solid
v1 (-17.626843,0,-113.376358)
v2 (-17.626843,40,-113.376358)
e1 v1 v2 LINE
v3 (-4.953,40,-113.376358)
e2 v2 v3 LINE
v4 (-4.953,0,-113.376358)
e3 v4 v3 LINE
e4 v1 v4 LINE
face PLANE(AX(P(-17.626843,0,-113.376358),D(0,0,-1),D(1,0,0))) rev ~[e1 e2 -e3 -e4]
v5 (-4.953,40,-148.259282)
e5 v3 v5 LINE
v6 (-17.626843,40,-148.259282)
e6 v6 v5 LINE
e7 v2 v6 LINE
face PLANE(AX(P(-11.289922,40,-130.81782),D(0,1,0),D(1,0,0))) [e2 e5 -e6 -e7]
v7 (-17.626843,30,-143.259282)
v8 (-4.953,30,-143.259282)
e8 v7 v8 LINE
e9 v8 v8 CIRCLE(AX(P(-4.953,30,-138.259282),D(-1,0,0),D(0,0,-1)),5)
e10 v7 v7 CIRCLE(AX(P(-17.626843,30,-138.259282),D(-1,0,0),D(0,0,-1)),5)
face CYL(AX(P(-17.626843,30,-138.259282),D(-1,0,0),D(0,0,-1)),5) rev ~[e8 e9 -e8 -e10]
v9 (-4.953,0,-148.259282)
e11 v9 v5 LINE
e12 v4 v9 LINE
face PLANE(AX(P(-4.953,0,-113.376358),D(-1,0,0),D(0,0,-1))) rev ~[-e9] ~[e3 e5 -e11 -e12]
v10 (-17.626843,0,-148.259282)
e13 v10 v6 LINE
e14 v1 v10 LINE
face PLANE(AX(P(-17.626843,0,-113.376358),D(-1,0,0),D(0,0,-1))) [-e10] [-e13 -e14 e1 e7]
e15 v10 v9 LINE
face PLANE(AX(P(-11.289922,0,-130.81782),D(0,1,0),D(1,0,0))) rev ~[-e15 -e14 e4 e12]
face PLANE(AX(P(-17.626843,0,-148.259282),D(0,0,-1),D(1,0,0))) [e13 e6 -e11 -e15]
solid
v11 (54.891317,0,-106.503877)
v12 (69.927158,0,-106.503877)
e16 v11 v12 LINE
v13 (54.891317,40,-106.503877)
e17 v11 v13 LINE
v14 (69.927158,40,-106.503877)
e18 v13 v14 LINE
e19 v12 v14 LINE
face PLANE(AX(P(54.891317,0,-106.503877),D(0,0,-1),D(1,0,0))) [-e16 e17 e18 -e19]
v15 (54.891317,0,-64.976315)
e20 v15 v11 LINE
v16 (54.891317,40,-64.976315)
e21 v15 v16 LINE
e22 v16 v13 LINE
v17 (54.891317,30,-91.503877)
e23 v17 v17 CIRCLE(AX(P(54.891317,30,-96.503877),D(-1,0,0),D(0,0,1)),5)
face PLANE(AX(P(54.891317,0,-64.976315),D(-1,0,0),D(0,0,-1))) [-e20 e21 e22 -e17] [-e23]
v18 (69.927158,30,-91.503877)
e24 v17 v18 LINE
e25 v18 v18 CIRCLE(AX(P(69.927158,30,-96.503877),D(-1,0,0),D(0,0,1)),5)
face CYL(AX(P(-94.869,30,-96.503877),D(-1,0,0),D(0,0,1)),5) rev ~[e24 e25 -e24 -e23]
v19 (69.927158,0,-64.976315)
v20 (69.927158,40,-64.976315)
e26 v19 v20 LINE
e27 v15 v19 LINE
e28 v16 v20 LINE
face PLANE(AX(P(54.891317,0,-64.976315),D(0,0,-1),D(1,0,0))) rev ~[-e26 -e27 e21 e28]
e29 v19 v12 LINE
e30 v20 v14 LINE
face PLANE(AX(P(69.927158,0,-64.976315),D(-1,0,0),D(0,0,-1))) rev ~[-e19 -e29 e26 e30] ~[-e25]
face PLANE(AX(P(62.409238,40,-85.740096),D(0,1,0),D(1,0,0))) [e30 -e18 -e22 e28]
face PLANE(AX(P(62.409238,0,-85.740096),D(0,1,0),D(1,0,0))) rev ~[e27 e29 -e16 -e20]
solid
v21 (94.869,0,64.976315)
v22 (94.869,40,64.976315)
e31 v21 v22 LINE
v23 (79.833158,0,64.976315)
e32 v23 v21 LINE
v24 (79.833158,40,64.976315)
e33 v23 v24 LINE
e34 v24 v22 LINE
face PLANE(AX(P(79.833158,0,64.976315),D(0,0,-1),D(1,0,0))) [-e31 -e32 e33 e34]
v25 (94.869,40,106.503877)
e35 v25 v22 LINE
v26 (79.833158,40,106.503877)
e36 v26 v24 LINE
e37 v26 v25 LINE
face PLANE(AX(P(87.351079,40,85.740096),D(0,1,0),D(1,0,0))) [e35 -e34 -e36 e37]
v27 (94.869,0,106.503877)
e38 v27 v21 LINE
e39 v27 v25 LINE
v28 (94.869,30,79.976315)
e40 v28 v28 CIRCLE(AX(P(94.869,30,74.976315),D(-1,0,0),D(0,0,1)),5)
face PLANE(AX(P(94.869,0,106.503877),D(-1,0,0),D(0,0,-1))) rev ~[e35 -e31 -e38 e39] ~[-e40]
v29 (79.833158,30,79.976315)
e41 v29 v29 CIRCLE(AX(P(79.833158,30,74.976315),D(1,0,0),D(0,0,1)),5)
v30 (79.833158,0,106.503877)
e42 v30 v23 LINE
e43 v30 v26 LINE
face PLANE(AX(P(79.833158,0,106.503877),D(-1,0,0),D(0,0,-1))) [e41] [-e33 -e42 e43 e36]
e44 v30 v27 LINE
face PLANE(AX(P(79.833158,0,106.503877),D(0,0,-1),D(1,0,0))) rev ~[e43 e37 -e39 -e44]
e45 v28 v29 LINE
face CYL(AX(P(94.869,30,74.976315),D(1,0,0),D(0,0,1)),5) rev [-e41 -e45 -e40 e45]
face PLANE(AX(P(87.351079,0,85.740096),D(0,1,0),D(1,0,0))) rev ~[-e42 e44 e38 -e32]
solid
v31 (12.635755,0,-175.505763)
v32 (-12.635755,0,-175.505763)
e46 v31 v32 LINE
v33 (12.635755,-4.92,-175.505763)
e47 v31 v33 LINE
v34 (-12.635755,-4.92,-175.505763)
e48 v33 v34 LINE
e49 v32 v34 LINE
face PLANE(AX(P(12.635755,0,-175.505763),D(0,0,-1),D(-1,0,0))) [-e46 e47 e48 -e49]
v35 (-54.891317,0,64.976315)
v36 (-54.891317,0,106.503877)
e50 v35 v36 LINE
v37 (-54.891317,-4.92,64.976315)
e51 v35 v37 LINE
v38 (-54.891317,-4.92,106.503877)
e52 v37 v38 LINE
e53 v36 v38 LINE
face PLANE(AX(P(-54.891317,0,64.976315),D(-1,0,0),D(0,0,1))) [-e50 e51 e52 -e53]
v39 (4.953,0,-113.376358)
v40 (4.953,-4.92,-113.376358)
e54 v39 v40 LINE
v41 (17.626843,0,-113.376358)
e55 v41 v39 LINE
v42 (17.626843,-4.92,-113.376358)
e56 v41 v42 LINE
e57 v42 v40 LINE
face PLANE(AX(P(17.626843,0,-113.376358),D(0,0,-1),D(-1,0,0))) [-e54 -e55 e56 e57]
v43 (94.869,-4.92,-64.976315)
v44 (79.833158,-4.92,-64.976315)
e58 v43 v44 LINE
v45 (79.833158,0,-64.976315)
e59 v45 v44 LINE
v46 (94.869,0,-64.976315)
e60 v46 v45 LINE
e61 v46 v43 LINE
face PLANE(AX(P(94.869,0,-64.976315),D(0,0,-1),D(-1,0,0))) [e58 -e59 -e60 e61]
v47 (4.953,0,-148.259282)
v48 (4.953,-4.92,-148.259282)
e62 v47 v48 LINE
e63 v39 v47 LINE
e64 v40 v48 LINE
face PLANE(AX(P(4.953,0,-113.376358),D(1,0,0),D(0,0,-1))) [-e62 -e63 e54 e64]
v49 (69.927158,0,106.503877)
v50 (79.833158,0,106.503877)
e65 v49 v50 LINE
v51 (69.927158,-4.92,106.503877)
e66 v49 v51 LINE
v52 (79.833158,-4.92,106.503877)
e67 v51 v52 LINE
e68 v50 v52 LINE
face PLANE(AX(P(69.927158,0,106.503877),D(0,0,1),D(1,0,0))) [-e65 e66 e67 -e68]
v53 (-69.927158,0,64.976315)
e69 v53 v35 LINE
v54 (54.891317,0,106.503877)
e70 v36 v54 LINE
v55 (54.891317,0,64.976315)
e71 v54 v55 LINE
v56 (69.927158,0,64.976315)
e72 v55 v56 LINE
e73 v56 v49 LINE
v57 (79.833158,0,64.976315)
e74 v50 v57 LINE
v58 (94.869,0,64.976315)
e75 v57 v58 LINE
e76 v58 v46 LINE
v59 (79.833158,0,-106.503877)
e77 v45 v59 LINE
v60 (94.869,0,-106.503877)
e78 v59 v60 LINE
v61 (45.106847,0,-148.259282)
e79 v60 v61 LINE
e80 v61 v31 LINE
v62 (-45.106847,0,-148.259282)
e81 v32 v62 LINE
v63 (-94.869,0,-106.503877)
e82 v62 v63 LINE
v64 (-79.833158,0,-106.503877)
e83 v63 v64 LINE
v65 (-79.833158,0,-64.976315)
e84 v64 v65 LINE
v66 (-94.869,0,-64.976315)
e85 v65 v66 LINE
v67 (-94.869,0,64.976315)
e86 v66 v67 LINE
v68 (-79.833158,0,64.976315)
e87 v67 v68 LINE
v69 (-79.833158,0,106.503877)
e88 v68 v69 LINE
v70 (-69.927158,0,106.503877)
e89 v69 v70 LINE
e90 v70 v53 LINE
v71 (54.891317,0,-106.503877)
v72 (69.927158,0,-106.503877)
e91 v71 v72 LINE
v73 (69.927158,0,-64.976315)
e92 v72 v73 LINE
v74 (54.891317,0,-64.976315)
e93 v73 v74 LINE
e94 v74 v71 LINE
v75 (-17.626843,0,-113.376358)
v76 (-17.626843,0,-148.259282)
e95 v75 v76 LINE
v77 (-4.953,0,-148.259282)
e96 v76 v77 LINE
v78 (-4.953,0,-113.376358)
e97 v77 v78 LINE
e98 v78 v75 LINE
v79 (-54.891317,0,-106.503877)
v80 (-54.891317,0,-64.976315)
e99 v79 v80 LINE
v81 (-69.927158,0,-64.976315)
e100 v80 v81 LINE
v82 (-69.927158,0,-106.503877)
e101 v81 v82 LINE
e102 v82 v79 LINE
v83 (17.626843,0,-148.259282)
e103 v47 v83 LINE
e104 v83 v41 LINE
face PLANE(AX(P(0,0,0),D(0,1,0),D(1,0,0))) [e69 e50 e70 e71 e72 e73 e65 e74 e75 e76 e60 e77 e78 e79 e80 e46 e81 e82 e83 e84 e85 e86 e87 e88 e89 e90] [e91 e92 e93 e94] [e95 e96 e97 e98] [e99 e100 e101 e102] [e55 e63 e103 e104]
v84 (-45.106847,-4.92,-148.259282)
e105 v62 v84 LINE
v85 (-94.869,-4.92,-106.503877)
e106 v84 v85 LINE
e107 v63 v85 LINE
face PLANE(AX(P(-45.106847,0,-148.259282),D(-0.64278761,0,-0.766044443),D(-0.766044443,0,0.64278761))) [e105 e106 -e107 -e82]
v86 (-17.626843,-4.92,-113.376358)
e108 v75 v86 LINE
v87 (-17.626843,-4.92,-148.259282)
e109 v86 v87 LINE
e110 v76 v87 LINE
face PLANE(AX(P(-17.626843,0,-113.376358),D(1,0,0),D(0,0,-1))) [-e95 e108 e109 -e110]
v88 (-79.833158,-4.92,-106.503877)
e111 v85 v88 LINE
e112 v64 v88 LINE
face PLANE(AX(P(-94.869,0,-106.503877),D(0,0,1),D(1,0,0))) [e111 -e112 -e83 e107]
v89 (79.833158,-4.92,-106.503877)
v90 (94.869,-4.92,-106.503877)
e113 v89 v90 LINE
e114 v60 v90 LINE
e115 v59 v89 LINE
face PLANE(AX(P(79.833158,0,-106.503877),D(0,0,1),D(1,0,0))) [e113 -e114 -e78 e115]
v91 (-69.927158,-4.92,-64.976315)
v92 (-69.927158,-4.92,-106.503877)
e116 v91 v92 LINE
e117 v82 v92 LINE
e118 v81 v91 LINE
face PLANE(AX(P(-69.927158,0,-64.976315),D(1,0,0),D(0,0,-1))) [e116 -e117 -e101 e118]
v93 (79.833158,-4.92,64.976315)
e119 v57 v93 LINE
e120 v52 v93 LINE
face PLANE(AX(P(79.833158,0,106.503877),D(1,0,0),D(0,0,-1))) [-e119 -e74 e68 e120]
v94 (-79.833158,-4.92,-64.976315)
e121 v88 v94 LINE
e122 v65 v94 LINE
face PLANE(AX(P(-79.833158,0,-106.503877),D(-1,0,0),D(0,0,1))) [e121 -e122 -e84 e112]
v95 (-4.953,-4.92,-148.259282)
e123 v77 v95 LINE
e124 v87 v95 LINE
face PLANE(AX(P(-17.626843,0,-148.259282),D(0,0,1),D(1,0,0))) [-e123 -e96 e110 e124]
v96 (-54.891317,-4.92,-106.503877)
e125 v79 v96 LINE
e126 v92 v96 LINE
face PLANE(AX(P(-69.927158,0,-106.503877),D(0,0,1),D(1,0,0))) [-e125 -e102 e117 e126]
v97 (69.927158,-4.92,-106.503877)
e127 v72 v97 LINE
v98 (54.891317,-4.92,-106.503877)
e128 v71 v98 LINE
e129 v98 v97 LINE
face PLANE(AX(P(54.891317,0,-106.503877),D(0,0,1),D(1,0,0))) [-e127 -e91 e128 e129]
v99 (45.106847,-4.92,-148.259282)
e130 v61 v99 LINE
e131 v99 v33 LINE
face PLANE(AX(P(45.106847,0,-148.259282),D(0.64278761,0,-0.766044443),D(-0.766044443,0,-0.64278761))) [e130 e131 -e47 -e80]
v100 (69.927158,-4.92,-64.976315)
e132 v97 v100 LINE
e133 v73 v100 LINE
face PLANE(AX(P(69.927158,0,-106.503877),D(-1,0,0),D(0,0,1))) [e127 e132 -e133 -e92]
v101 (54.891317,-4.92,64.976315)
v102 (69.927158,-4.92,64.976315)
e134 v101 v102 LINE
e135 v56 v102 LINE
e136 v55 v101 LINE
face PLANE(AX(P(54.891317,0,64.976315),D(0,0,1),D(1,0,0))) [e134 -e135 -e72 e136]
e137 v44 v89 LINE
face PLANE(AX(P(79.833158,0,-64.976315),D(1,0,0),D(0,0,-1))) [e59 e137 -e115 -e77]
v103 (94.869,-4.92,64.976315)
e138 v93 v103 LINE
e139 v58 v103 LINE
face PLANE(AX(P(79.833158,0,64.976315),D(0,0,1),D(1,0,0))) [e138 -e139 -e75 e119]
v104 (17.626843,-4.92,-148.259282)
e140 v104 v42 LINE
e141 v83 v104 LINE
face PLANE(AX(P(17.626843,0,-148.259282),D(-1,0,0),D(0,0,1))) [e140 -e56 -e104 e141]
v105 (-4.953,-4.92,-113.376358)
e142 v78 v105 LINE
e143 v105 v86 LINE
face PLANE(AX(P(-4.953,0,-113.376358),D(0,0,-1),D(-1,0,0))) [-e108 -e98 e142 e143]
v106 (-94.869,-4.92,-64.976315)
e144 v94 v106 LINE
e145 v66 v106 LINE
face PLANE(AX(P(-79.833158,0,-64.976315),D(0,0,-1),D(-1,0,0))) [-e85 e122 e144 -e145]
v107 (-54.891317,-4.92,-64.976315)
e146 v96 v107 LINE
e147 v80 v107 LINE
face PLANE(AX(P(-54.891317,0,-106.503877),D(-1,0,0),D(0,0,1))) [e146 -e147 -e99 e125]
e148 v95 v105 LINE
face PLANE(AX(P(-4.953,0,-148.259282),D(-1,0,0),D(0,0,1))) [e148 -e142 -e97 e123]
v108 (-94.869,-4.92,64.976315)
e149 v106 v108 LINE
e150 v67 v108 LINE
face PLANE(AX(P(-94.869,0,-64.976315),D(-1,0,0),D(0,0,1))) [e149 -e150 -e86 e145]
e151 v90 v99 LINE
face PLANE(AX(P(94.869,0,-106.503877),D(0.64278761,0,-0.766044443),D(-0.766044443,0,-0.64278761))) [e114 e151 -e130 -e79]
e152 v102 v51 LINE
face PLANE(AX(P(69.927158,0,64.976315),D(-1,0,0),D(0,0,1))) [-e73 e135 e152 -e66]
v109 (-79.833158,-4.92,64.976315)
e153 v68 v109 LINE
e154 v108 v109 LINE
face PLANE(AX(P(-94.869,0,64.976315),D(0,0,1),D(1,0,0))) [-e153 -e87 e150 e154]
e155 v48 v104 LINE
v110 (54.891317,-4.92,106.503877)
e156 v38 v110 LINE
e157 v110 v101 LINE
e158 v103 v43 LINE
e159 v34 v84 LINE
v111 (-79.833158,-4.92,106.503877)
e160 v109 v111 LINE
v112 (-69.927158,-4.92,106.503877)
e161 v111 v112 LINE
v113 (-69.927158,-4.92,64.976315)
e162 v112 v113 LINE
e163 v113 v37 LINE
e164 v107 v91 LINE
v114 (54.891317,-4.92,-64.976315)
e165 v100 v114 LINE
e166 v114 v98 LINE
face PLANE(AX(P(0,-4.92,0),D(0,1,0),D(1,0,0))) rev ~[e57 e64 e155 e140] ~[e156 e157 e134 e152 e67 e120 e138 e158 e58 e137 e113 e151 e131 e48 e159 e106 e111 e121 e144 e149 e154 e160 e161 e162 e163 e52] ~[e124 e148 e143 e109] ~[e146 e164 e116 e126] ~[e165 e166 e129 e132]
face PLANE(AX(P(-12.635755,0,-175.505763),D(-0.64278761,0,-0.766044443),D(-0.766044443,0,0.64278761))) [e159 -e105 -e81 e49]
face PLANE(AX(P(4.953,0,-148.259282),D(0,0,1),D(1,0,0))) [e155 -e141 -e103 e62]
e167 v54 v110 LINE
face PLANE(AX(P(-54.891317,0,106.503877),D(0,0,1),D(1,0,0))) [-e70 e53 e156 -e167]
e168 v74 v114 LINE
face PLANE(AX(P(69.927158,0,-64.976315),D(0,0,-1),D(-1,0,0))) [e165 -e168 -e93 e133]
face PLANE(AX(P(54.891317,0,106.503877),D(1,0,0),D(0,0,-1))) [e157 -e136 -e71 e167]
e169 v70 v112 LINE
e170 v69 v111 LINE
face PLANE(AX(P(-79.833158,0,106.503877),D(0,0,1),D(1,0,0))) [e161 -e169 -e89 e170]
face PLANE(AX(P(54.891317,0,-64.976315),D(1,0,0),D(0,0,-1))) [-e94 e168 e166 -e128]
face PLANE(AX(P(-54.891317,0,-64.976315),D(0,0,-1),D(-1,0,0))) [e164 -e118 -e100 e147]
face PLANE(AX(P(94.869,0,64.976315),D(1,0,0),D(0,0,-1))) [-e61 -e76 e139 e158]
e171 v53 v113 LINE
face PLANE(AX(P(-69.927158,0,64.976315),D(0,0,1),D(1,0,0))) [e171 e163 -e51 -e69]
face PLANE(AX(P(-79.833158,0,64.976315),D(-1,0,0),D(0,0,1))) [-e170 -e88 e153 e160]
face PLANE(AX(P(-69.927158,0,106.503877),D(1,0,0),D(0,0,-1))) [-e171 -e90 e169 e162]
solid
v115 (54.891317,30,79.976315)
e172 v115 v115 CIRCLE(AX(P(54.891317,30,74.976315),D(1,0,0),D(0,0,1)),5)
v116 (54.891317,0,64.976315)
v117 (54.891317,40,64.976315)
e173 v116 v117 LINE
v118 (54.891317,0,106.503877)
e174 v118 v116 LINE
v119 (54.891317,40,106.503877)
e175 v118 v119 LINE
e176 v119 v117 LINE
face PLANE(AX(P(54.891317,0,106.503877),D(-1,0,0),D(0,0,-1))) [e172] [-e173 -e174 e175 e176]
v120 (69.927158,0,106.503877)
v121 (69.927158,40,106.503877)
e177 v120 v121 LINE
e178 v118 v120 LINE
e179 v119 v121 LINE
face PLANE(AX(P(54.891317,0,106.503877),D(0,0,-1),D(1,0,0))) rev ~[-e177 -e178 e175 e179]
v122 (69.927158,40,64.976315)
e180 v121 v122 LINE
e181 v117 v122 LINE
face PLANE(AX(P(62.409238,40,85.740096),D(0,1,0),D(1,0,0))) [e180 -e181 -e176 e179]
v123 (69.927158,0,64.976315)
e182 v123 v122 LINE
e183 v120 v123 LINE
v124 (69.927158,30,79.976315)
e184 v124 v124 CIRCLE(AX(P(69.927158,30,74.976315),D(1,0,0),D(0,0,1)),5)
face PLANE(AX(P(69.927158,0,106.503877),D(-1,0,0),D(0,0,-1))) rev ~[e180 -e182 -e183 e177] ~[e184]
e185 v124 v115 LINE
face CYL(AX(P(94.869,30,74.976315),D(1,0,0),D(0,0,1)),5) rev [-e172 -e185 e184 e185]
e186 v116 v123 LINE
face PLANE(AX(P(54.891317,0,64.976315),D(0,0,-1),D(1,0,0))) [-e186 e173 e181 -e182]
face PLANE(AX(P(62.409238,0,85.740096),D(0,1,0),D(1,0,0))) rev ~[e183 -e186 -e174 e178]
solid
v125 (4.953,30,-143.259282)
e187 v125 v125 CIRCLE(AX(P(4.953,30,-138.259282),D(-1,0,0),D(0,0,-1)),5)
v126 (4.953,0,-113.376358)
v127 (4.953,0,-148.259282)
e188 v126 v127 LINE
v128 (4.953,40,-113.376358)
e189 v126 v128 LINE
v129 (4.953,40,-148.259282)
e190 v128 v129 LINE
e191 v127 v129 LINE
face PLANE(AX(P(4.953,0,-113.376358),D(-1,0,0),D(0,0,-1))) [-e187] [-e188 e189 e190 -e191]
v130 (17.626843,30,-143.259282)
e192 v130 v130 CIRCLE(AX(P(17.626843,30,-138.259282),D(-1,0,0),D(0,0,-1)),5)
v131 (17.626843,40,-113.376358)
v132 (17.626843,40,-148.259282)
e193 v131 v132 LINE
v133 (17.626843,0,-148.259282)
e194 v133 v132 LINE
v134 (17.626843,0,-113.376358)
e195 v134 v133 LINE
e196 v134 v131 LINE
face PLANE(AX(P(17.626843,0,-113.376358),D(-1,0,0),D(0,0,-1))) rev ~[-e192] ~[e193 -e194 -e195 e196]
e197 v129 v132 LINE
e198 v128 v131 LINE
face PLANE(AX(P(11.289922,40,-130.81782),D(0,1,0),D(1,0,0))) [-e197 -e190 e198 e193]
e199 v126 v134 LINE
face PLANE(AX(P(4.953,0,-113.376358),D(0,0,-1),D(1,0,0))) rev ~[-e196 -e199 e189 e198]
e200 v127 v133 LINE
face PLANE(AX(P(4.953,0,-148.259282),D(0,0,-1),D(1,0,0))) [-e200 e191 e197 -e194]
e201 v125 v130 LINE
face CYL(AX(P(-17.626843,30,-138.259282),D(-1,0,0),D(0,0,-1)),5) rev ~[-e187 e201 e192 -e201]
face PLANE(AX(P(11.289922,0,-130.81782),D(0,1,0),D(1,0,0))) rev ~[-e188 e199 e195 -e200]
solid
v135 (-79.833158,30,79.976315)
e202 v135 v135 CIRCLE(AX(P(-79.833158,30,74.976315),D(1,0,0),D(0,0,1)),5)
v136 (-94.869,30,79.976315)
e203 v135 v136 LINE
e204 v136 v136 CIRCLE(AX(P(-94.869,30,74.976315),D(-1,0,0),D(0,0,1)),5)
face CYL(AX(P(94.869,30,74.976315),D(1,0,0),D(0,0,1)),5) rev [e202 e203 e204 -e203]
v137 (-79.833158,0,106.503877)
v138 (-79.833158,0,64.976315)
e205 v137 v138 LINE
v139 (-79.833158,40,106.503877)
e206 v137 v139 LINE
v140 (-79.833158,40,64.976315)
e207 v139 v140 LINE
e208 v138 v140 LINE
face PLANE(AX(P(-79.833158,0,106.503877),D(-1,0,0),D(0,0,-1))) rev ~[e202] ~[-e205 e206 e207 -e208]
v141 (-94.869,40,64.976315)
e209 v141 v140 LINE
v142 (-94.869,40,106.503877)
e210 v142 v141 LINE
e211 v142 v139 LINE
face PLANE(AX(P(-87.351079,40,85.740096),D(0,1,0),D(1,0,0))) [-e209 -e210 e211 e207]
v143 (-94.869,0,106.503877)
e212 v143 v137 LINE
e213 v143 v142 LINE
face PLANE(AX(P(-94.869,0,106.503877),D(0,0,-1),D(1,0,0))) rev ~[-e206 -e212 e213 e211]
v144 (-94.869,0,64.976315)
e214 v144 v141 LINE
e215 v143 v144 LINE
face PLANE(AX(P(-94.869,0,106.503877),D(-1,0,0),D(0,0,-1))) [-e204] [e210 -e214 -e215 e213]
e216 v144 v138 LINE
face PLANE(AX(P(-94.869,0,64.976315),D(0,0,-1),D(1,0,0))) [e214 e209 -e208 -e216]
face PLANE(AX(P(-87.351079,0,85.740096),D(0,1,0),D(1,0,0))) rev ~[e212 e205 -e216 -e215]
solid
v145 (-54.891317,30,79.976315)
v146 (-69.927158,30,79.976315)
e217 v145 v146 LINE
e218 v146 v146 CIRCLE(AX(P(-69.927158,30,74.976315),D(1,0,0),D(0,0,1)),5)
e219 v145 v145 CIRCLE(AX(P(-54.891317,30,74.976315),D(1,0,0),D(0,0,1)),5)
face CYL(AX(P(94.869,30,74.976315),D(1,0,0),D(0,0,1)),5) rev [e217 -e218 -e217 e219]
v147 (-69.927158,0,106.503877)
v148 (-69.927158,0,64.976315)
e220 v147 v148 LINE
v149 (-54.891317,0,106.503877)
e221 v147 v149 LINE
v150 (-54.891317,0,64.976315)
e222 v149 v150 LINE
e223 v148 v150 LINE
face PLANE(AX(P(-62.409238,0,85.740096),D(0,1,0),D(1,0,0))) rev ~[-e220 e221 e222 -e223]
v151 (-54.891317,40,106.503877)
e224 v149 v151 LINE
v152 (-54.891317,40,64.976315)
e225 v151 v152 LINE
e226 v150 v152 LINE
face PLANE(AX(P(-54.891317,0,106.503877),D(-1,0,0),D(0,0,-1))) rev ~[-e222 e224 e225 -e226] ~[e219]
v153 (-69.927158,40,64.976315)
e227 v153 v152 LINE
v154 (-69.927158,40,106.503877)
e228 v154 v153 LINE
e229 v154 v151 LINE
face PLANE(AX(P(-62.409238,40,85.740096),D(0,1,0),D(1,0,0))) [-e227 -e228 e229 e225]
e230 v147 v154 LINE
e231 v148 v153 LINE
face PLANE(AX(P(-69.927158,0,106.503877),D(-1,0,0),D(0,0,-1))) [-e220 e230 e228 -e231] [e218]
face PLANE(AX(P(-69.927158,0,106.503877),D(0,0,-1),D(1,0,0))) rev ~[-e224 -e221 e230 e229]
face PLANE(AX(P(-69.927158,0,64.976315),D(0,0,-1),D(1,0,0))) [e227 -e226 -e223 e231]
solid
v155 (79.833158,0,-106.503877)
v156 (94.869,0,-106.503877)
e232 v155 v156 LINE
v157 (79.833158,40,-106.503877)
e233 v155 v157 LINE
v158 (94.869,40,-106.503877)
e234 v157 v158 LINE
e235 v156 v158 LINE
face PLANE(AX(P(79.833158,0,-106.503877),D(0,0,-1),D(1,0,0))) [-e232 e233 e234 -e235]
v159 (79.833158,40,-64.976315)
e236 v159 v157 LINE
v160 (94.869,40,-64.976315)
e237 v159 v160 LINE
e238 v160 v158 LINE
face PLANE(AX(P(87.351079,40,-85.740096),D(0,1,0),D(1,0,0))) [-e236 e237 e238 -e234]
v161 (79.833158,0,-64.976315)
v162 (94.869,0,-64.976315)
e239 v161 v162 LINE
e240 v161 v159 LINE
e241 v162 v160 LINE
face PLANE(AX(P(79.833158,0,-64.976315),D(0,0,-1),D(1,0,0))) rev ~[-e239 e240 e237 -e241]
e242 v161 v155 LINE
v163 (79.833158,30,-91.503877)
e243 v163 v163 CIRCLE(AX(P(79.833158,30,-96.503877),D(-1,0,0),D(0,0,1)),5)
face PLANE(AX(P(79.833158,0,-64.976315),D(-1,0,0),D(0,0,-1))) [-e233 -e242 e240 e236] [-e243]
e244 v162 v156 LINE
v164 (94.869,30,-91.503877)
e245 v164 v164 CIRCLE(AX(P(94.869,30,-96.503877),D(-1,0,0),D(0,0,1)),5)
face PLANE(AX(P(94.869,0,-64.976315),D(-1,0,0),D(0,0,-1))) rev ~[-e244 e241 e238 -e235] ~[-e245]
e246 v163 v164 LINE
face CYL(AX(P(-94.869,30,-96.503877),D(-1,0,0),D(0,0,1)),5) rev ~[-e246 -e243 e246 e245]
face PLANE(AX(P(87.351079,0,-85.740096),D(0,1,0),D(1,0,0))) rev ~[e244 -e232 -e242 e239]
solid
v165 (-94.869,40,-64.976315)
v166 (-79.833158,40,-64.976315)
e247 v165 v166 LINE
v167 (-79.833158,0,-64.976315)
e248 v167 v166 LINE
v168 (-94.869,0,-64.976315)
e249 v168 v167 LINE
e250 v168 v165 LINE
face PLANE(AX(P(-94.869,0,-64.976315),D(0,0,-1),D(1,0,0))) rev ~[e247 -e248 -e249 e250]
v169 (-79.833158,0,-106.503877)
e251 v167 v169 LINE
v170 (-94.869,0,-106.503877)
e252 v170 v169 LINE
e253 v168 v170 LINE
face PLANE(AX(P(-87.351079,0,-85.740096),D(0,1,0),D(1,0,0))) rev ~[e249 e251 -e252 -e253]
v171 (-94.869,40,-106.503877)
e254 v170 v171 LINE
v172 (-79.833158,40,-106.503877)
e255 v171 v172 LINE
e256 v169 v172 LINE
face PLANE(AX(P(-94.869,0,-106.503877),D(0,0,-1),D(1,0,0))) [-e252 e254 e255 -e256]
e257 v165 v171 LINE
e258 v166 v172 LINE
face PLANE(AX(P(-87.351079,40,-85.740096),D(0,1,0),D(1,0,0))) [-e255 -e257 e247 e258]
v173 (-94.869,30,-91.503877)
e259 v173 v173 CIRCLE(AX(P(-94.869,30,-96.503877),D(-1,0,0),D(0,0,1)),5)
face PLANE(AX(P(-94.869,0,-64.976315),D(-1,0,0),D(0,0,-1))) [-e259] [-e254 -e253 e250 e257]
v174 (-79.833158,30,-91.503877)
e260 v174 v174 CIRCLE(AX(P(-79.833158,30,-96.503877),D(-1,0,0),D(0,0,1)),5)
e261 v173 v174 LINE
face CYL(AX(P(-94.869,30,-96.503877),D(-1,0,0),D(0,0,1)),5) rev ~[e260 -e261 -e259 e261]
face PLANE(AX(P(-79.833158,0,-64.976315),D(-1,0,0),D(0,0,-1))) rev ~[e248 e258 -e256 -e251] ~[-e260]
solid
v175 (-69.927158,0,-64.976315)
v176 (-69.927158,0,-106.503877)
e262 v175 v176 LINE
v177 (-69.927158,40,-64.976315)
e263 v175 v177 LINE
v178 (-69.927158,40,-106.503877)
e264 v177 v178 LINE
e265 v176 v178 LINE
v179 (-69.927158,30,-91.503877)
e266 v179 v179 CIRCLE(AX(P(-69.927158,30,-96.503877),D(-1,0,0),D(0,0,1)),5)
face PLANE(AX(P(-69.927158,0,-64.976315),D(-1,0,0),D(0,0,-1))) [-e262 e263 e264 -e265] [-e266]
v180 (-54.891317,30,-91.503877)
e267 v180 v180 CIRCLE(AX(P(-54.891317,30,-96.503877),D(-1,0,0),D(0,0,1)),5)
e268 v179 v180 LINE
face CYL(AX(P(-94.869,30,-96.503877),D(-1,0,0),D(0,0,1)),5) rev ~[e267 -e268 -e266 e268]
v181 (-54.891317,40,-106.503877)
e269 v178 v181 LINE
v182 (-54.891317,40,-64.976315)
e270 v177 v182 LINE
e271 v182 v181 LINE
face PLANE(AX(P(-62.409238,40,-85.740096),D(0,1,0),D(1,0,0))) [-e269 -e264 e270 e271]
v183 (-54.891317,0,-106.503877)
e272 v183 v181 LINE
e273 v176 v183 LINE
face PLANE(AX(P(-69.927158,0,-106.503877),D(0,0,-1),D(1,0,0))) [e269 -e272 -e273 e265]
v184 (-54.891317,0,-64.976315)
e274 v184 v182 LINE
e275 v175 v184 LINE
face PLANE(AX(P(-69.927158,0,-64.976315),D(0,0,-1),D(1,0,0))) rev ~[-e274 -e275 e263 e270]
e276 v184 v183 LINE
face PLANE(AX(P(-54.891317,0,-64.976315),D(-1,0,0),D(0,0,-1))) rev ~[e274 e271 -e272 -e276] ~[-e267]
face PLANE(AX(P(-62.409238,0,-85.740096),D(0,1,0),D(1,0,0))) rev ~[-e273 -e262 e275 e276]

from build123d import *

# Parameters (mm, degrees)
SKETCH3_W              = 12.673843353
SKETCH3_H              = 34.882924186
BOSS_EXTRUDE1_DEPTH    = 40
SKETCH3_W_2            = 15.035841509
SKETCH3_H_2            = 41.527562264
BOSS_EXTRUDE1_2_DEPTH  = 40
SKETCH3_W_3            = 15.03584151
BOSS_EXTRUDE1_3_DEPTH  = 40
BOSS_EXTRUDE1_4_DEPTH  = 40
BOSS_EXTRUDE1_5_DEPTH  = 40
BOSS_EXTRUDE1_6_DEPTH  = 40
BOSS_EXTRUDE1_7_DEPTH  = 40
BOSS_EXTRUDE1_8_DEPTH  = 40
BOSS_EXTRUDE1_9_DEPTH  = 40
BOSS_EXTRUDE1_10_DEPTH = 40
BOSS_EXTRUDE3_DEPTH    = 4.92
CUT_EXTRUDE1_START     = -189.738
SKETCH6_R              = 5
CUT_EXTRUDE1_DEPTH     = 189.738
SKETCH5_R              = 5
CUT_EXTRUDE2_DEPTH     = 203.294
SKETCH4_R              = 5
CUT_EXTRUDE3_DEPTH     = 203.294


with BuildPart() as part:
    # Sketch3 → Boss-Extrude1 (new body)
    with BuildSketch(Plane(origin=(0, 0, 0), x_dir=(1, 0, 0), z_dir=(0, 1, 0))):
        with Locations((-11.289921677, 130.817819602)):
            Rectangle(SKETCH3_W, SKETCH3_H)
    extrude(amount=BOSS_EXTRUDE1_DEPTH)


with BuildPart() as body_2:
    # Sketch3 → Boss-Extrude1 2 (new body)
    with BuildSketch(Plane(origin=(0, 0, 0), x_dir=(1, 0, 0), z_dir=(0, 1, 0))):
        with Locations((-87.351079246, 85.740096226)):
            Rectangle(SKETCH3_W_2, SKETCH3_H_2)
    extrude(amount=BOSS_EXTRUDE1_2_DEPTH)


with BuildPart() as body_3:
    # Sketch3 → Boss-Extrude1 3 (new body)
    with BuildSketch(Plane(origin=(0, 0, 0), x_dir=(1, 0, 0), z_dir=(0, 1, 0))):
        with Locations((-62.409237736, 85.740096226)):
            Rectangle(SKETCH3_W_3, SKETCH3_H_2)
    extrude(amount=BOSS_EXTRUDE1_3_DEPTH)


with BuildPart() as body_4:
    # Sketch3 → Boss-Extrude1 4 (new body)
    with BuildSketch(Plane(origin=(0, 0, 0), x_dir=(1, 0, 0), z_dir=(0, 1, 0))):
        with Locations((62.409237736, 85.740096226)):
            Rectangle(SKETCH3_W_3, SKETCH3_H_2)
    extrude(amount=BOSS_EXTRUDE1_4_DEPTH)


with BuildPart() as body_5:
    # Sketch3 → Boss-Extrude1 5 (new body)
    with BuildSketch(Plane(origin=(0, 0, 0), x_dir=(1, 0, 0), z_dir=(0, 1, 0))):
        with Locations((87.351079246, 85.740096226)):
            Rectangle(SKETCH3_W_2, SKETCH3_H_2)
    extrude(amount=BOSS_EXTRUDE1_5_DEPTH)


with BuildPart() as body_6:
    # Sketch3 → Boss-Extrude1 6 (new body)
    with BuildSketch(Plane(origin=(0, 0, 0), x_dir=(1, 0, 0), z_dir=(0, 1, 0))):
        with Locations((-87.351079246, -85.740096226)):
            Rectangle(SKETCH3_W_2, SKETCH3_H_2)
    extrude(amount=BOSS_EXTRUDE1_6_DEPTH)


with BuildPart() as body_7:
    # Sketch3 → Boss-Extrude1 7 (new body)
    with BuildSketch(Plane(origin=(0, 0, 0), x_dir=(1, 0, 0), z_dir=(0, 1, 0))):
        with Locations((-62.409237736, -85.740096226)):
            Rectangle(SKETCH3_W_3, SKETCH3_H_2)
    extrude(amount=BOSS_EXTRUDE1_7_DEPTH)


with BuildPart() as body_8:
    # Sketch3 → Boss-Extrude1 8 (new body)
    with BuildSketch(Plane(origin=(0, 0, 0), x_dir=(1, 0, 0), z_dir=(0, 1, 0))):
        with Locations((62.409237736, -85.740096226)):
            Rectangle(SKETCH3_W_3, SKETCH3_H_2)
    extrude(amount=BOSS_EXTRUDE1_8_DEPTH)


with BuildPart() as body_9:
    # Sketch3 → Boss-Extrude1 9 (new body)
    with BuildSketch(Plane(origin=(0, 0, 0), x_dir=(1, 0, 0), z_dir=(0, 1, 0))):
        with Locations((87.351079246, -85.740096226)):
            Rectangle(SKETCH3_W_2, SKETCH3_H_2)
    extrude(amount=BOSS_EXTRUDE1_9_DEPTH)


with BuildPart() as body_10:
    # Sketch3 → Boss-Extrude1 10 (new body)
    with BuildSketch(Plane(origin=(0, 0, 0), x_dir=(1, 0, 0), z_dir=(0, 1, 0))):
        with Locations((11.289921677, 130.817819602)):
            Rectangle(SKETCH3_W, SKETCH3_H)
    extrude(amount=BOSS_EXTRUDE1_10_DEPTH)


with BuildPart() as body_11:
    # Sketch3<5> → Boss-Extrude3 (new body)
    with BuildSketch(Plane(origin=(0, 0, 0), x_dir=(1, 0, 0), z_dir=(0, 1, 0))):
        Polygon((74.880158491, -106.503877358), (79.833158491, -106.503877358), (79.833158491, -64.976315094), (94.869, -64.976315094), (94.869, 64.976315094), (79.833158491, 64.976315094), (79.833158491, 106.503877358), (69.927158491, 106.503877358), (69.927158491, 64.976315094), (54.891316981, 64.976315094), (54.891316981, 106.503877358), (-54.891316981, 106.503877358), (-54.891316981, 64.976315094), (-69.927158491, 64.976315094), (-69.927158491, 106.503877358), (-79.833158491, 106.503877358), (-79.833158491, 64.976315094), (-94.869, 64.976315094), (-94.869, -64.976315094), (-79.833158491, -64.976315094), (-79.833158491, -106.503877358), (-74.880158491, -106.503877358), (-69.927158491, -106.503877358), (-69.927158491, -64.976315094), (-54.891316981, -64.976315094), (-54.891316981, -106.503877358), (54.891316981, -106.503877358), (54.891316981, -64.976315094), (69.927158491, -64.976315094), (69.927158491, -106.503877358), align=None)
        Polygon((79.833158491, 106.503877358), (94.869, 106.503877358), (45.106846872, 148.259281695), (17.626843353, 148.259281695), (17.626843353, 113.376357509), (4.953, 113.376357509), (4.953, 148.259281695), (-4.953, 148.259281695), (-4.953, 113.376357509), (-17.626843353, 113.376357509), (-17.626843353, 148.259281695), (-45.106846872, 148.259281695), (-94.869, 106.503877358), (-79.833158491, 106.503877358), (-69.927158491, 106.503877358), (-54.891316981, 106.503877358), (54.891316981, 106.503877358), (69.927158491, 106.503877358), align=None)
        Polygon((17.626843353, 148.259281695), (45.106846872, 148.259281695), (12.635755252, 175.505762697), (-12.635755252, 175.505762697), (-45.106846872, 148.259281695), (-17.626843353, 148.259281695), (-4.953, 148.259281695), (4.953, 148.259281695), align=None)
    extrude(amount=-BOSS_EXTRUDE3_DEPTH)


with BuildPart() as cut_extrude1_tool:
    # Sketch6 → Cut-Extrude1 (new body)
    with BuildSketch(Plane.ZY.offset(94.869).offset(CUT_EXTRUDE1_START)):
        with Locations((74.976315094, 30)):
            Circle(SKETCH6_R)
    extrude(amount=CUT_EXTRUDE1_DEPTH)


with BuildPart() as body_6_1:
    add(body_6.part)

    # Cut-Extrude1: cut by cut_extrude1_tool
    add(cut_extrude1_tool.part, mode=Mode.SUBTRACT)


with BuildPart() as body_7_1:
    add(body_7.part)

    # Cut-Extrude1: cut by cut_extrude1_tool
    add(cut_extrude1_tool.part, mode=Mode.SUBTRACT)


with BuildPart() as body_8_1:
    add(body_8.part)

    # Cut-Extrude1: cut by cut_extrude1_tool
    add(cut_extrude1_tool.part, mode=Mode.SUBTRACT)


with BuildPart() as body_9_1:
    add(body_9.part)

    # Cut-Extrude1: cut by cut_extrude1_tool
    add(cut_extrude1_tool.part, mode=Mode.SUBTRACT)


with BuildPart() as cut_extrude2_tool:
    # Sketch5 → Cut-Extrude2 (new body)
    with BuildSketch(Plane.ZY.offset(17.626843353)):
        with Locations(Location((-138.259281695, 30, 0), (0, 0, 180))):
            Circle(SKETCH5_R)
    extrude(amount=-CUT_EXTRUDE2_DEPTH)


with BuildPart() as part_1:
    add(part.part)

    # Cut-Extrude2: cut by cut_extrude2_tool
    add(cut_extrude2_tool.part, mode=Mode.SUBTRACT)


with BuildPart() as body_10_1:
    add(body_10.part)

    # Cut-Extrude2: cut by cut_extrude2_tool
    add(cut_extrude2_tool.part, mode=Mode.SUBTRACT)


with BuildPart() as cut_extrude3_tool:
    # Sketch4 → Cut-Extrude3 (new body)
    with BuildSketch(Plane.ZY.offset(94.869)):
        with Locations((-96.503877358, 30)):
            Circle(SKETCH4_R)
    extrude(amount=-CUT_EXTRUDE3_DEPTH)


with BuildPart() as body_2_1:
    add(body_2.part)

    # Cut-Extrude3: cut by cut_extrude3_tool
    add(cut_extrude3_tool.part, mode=Mode.SUBTRACT)


with BuildPart() as body_3_1:
    add(body_3.part)

    # Cut-Extrude3: cut by cut_extrude3_tool
    add(cut_extrude3_tool.part, mode=Mode.SUBTRACT)


with BuildPart() as body_4_1:
    add(body_4.part)

    # Cut-Extrude3: cut by cut_extrude3_tool
    add(cut_extrude3_tool.part, mode=Mode.SUBTRACT)


with BuildPart() as body_5_1:
    add(body_5.part)

    # Cut-Extrude3: cut by cut_extrude3_tool
    add(cut_extrude3_tool.part, mode=Mode.SUBTRACT)


solid = Compound([body_11.part, body_6_1.part, body_7_1.part, body_8_1.part, body_9_1.part, part_1.part, body_10_1.part, body_2_1.part, body_3_1.part, body_4_1.part, body_5_1.part])
